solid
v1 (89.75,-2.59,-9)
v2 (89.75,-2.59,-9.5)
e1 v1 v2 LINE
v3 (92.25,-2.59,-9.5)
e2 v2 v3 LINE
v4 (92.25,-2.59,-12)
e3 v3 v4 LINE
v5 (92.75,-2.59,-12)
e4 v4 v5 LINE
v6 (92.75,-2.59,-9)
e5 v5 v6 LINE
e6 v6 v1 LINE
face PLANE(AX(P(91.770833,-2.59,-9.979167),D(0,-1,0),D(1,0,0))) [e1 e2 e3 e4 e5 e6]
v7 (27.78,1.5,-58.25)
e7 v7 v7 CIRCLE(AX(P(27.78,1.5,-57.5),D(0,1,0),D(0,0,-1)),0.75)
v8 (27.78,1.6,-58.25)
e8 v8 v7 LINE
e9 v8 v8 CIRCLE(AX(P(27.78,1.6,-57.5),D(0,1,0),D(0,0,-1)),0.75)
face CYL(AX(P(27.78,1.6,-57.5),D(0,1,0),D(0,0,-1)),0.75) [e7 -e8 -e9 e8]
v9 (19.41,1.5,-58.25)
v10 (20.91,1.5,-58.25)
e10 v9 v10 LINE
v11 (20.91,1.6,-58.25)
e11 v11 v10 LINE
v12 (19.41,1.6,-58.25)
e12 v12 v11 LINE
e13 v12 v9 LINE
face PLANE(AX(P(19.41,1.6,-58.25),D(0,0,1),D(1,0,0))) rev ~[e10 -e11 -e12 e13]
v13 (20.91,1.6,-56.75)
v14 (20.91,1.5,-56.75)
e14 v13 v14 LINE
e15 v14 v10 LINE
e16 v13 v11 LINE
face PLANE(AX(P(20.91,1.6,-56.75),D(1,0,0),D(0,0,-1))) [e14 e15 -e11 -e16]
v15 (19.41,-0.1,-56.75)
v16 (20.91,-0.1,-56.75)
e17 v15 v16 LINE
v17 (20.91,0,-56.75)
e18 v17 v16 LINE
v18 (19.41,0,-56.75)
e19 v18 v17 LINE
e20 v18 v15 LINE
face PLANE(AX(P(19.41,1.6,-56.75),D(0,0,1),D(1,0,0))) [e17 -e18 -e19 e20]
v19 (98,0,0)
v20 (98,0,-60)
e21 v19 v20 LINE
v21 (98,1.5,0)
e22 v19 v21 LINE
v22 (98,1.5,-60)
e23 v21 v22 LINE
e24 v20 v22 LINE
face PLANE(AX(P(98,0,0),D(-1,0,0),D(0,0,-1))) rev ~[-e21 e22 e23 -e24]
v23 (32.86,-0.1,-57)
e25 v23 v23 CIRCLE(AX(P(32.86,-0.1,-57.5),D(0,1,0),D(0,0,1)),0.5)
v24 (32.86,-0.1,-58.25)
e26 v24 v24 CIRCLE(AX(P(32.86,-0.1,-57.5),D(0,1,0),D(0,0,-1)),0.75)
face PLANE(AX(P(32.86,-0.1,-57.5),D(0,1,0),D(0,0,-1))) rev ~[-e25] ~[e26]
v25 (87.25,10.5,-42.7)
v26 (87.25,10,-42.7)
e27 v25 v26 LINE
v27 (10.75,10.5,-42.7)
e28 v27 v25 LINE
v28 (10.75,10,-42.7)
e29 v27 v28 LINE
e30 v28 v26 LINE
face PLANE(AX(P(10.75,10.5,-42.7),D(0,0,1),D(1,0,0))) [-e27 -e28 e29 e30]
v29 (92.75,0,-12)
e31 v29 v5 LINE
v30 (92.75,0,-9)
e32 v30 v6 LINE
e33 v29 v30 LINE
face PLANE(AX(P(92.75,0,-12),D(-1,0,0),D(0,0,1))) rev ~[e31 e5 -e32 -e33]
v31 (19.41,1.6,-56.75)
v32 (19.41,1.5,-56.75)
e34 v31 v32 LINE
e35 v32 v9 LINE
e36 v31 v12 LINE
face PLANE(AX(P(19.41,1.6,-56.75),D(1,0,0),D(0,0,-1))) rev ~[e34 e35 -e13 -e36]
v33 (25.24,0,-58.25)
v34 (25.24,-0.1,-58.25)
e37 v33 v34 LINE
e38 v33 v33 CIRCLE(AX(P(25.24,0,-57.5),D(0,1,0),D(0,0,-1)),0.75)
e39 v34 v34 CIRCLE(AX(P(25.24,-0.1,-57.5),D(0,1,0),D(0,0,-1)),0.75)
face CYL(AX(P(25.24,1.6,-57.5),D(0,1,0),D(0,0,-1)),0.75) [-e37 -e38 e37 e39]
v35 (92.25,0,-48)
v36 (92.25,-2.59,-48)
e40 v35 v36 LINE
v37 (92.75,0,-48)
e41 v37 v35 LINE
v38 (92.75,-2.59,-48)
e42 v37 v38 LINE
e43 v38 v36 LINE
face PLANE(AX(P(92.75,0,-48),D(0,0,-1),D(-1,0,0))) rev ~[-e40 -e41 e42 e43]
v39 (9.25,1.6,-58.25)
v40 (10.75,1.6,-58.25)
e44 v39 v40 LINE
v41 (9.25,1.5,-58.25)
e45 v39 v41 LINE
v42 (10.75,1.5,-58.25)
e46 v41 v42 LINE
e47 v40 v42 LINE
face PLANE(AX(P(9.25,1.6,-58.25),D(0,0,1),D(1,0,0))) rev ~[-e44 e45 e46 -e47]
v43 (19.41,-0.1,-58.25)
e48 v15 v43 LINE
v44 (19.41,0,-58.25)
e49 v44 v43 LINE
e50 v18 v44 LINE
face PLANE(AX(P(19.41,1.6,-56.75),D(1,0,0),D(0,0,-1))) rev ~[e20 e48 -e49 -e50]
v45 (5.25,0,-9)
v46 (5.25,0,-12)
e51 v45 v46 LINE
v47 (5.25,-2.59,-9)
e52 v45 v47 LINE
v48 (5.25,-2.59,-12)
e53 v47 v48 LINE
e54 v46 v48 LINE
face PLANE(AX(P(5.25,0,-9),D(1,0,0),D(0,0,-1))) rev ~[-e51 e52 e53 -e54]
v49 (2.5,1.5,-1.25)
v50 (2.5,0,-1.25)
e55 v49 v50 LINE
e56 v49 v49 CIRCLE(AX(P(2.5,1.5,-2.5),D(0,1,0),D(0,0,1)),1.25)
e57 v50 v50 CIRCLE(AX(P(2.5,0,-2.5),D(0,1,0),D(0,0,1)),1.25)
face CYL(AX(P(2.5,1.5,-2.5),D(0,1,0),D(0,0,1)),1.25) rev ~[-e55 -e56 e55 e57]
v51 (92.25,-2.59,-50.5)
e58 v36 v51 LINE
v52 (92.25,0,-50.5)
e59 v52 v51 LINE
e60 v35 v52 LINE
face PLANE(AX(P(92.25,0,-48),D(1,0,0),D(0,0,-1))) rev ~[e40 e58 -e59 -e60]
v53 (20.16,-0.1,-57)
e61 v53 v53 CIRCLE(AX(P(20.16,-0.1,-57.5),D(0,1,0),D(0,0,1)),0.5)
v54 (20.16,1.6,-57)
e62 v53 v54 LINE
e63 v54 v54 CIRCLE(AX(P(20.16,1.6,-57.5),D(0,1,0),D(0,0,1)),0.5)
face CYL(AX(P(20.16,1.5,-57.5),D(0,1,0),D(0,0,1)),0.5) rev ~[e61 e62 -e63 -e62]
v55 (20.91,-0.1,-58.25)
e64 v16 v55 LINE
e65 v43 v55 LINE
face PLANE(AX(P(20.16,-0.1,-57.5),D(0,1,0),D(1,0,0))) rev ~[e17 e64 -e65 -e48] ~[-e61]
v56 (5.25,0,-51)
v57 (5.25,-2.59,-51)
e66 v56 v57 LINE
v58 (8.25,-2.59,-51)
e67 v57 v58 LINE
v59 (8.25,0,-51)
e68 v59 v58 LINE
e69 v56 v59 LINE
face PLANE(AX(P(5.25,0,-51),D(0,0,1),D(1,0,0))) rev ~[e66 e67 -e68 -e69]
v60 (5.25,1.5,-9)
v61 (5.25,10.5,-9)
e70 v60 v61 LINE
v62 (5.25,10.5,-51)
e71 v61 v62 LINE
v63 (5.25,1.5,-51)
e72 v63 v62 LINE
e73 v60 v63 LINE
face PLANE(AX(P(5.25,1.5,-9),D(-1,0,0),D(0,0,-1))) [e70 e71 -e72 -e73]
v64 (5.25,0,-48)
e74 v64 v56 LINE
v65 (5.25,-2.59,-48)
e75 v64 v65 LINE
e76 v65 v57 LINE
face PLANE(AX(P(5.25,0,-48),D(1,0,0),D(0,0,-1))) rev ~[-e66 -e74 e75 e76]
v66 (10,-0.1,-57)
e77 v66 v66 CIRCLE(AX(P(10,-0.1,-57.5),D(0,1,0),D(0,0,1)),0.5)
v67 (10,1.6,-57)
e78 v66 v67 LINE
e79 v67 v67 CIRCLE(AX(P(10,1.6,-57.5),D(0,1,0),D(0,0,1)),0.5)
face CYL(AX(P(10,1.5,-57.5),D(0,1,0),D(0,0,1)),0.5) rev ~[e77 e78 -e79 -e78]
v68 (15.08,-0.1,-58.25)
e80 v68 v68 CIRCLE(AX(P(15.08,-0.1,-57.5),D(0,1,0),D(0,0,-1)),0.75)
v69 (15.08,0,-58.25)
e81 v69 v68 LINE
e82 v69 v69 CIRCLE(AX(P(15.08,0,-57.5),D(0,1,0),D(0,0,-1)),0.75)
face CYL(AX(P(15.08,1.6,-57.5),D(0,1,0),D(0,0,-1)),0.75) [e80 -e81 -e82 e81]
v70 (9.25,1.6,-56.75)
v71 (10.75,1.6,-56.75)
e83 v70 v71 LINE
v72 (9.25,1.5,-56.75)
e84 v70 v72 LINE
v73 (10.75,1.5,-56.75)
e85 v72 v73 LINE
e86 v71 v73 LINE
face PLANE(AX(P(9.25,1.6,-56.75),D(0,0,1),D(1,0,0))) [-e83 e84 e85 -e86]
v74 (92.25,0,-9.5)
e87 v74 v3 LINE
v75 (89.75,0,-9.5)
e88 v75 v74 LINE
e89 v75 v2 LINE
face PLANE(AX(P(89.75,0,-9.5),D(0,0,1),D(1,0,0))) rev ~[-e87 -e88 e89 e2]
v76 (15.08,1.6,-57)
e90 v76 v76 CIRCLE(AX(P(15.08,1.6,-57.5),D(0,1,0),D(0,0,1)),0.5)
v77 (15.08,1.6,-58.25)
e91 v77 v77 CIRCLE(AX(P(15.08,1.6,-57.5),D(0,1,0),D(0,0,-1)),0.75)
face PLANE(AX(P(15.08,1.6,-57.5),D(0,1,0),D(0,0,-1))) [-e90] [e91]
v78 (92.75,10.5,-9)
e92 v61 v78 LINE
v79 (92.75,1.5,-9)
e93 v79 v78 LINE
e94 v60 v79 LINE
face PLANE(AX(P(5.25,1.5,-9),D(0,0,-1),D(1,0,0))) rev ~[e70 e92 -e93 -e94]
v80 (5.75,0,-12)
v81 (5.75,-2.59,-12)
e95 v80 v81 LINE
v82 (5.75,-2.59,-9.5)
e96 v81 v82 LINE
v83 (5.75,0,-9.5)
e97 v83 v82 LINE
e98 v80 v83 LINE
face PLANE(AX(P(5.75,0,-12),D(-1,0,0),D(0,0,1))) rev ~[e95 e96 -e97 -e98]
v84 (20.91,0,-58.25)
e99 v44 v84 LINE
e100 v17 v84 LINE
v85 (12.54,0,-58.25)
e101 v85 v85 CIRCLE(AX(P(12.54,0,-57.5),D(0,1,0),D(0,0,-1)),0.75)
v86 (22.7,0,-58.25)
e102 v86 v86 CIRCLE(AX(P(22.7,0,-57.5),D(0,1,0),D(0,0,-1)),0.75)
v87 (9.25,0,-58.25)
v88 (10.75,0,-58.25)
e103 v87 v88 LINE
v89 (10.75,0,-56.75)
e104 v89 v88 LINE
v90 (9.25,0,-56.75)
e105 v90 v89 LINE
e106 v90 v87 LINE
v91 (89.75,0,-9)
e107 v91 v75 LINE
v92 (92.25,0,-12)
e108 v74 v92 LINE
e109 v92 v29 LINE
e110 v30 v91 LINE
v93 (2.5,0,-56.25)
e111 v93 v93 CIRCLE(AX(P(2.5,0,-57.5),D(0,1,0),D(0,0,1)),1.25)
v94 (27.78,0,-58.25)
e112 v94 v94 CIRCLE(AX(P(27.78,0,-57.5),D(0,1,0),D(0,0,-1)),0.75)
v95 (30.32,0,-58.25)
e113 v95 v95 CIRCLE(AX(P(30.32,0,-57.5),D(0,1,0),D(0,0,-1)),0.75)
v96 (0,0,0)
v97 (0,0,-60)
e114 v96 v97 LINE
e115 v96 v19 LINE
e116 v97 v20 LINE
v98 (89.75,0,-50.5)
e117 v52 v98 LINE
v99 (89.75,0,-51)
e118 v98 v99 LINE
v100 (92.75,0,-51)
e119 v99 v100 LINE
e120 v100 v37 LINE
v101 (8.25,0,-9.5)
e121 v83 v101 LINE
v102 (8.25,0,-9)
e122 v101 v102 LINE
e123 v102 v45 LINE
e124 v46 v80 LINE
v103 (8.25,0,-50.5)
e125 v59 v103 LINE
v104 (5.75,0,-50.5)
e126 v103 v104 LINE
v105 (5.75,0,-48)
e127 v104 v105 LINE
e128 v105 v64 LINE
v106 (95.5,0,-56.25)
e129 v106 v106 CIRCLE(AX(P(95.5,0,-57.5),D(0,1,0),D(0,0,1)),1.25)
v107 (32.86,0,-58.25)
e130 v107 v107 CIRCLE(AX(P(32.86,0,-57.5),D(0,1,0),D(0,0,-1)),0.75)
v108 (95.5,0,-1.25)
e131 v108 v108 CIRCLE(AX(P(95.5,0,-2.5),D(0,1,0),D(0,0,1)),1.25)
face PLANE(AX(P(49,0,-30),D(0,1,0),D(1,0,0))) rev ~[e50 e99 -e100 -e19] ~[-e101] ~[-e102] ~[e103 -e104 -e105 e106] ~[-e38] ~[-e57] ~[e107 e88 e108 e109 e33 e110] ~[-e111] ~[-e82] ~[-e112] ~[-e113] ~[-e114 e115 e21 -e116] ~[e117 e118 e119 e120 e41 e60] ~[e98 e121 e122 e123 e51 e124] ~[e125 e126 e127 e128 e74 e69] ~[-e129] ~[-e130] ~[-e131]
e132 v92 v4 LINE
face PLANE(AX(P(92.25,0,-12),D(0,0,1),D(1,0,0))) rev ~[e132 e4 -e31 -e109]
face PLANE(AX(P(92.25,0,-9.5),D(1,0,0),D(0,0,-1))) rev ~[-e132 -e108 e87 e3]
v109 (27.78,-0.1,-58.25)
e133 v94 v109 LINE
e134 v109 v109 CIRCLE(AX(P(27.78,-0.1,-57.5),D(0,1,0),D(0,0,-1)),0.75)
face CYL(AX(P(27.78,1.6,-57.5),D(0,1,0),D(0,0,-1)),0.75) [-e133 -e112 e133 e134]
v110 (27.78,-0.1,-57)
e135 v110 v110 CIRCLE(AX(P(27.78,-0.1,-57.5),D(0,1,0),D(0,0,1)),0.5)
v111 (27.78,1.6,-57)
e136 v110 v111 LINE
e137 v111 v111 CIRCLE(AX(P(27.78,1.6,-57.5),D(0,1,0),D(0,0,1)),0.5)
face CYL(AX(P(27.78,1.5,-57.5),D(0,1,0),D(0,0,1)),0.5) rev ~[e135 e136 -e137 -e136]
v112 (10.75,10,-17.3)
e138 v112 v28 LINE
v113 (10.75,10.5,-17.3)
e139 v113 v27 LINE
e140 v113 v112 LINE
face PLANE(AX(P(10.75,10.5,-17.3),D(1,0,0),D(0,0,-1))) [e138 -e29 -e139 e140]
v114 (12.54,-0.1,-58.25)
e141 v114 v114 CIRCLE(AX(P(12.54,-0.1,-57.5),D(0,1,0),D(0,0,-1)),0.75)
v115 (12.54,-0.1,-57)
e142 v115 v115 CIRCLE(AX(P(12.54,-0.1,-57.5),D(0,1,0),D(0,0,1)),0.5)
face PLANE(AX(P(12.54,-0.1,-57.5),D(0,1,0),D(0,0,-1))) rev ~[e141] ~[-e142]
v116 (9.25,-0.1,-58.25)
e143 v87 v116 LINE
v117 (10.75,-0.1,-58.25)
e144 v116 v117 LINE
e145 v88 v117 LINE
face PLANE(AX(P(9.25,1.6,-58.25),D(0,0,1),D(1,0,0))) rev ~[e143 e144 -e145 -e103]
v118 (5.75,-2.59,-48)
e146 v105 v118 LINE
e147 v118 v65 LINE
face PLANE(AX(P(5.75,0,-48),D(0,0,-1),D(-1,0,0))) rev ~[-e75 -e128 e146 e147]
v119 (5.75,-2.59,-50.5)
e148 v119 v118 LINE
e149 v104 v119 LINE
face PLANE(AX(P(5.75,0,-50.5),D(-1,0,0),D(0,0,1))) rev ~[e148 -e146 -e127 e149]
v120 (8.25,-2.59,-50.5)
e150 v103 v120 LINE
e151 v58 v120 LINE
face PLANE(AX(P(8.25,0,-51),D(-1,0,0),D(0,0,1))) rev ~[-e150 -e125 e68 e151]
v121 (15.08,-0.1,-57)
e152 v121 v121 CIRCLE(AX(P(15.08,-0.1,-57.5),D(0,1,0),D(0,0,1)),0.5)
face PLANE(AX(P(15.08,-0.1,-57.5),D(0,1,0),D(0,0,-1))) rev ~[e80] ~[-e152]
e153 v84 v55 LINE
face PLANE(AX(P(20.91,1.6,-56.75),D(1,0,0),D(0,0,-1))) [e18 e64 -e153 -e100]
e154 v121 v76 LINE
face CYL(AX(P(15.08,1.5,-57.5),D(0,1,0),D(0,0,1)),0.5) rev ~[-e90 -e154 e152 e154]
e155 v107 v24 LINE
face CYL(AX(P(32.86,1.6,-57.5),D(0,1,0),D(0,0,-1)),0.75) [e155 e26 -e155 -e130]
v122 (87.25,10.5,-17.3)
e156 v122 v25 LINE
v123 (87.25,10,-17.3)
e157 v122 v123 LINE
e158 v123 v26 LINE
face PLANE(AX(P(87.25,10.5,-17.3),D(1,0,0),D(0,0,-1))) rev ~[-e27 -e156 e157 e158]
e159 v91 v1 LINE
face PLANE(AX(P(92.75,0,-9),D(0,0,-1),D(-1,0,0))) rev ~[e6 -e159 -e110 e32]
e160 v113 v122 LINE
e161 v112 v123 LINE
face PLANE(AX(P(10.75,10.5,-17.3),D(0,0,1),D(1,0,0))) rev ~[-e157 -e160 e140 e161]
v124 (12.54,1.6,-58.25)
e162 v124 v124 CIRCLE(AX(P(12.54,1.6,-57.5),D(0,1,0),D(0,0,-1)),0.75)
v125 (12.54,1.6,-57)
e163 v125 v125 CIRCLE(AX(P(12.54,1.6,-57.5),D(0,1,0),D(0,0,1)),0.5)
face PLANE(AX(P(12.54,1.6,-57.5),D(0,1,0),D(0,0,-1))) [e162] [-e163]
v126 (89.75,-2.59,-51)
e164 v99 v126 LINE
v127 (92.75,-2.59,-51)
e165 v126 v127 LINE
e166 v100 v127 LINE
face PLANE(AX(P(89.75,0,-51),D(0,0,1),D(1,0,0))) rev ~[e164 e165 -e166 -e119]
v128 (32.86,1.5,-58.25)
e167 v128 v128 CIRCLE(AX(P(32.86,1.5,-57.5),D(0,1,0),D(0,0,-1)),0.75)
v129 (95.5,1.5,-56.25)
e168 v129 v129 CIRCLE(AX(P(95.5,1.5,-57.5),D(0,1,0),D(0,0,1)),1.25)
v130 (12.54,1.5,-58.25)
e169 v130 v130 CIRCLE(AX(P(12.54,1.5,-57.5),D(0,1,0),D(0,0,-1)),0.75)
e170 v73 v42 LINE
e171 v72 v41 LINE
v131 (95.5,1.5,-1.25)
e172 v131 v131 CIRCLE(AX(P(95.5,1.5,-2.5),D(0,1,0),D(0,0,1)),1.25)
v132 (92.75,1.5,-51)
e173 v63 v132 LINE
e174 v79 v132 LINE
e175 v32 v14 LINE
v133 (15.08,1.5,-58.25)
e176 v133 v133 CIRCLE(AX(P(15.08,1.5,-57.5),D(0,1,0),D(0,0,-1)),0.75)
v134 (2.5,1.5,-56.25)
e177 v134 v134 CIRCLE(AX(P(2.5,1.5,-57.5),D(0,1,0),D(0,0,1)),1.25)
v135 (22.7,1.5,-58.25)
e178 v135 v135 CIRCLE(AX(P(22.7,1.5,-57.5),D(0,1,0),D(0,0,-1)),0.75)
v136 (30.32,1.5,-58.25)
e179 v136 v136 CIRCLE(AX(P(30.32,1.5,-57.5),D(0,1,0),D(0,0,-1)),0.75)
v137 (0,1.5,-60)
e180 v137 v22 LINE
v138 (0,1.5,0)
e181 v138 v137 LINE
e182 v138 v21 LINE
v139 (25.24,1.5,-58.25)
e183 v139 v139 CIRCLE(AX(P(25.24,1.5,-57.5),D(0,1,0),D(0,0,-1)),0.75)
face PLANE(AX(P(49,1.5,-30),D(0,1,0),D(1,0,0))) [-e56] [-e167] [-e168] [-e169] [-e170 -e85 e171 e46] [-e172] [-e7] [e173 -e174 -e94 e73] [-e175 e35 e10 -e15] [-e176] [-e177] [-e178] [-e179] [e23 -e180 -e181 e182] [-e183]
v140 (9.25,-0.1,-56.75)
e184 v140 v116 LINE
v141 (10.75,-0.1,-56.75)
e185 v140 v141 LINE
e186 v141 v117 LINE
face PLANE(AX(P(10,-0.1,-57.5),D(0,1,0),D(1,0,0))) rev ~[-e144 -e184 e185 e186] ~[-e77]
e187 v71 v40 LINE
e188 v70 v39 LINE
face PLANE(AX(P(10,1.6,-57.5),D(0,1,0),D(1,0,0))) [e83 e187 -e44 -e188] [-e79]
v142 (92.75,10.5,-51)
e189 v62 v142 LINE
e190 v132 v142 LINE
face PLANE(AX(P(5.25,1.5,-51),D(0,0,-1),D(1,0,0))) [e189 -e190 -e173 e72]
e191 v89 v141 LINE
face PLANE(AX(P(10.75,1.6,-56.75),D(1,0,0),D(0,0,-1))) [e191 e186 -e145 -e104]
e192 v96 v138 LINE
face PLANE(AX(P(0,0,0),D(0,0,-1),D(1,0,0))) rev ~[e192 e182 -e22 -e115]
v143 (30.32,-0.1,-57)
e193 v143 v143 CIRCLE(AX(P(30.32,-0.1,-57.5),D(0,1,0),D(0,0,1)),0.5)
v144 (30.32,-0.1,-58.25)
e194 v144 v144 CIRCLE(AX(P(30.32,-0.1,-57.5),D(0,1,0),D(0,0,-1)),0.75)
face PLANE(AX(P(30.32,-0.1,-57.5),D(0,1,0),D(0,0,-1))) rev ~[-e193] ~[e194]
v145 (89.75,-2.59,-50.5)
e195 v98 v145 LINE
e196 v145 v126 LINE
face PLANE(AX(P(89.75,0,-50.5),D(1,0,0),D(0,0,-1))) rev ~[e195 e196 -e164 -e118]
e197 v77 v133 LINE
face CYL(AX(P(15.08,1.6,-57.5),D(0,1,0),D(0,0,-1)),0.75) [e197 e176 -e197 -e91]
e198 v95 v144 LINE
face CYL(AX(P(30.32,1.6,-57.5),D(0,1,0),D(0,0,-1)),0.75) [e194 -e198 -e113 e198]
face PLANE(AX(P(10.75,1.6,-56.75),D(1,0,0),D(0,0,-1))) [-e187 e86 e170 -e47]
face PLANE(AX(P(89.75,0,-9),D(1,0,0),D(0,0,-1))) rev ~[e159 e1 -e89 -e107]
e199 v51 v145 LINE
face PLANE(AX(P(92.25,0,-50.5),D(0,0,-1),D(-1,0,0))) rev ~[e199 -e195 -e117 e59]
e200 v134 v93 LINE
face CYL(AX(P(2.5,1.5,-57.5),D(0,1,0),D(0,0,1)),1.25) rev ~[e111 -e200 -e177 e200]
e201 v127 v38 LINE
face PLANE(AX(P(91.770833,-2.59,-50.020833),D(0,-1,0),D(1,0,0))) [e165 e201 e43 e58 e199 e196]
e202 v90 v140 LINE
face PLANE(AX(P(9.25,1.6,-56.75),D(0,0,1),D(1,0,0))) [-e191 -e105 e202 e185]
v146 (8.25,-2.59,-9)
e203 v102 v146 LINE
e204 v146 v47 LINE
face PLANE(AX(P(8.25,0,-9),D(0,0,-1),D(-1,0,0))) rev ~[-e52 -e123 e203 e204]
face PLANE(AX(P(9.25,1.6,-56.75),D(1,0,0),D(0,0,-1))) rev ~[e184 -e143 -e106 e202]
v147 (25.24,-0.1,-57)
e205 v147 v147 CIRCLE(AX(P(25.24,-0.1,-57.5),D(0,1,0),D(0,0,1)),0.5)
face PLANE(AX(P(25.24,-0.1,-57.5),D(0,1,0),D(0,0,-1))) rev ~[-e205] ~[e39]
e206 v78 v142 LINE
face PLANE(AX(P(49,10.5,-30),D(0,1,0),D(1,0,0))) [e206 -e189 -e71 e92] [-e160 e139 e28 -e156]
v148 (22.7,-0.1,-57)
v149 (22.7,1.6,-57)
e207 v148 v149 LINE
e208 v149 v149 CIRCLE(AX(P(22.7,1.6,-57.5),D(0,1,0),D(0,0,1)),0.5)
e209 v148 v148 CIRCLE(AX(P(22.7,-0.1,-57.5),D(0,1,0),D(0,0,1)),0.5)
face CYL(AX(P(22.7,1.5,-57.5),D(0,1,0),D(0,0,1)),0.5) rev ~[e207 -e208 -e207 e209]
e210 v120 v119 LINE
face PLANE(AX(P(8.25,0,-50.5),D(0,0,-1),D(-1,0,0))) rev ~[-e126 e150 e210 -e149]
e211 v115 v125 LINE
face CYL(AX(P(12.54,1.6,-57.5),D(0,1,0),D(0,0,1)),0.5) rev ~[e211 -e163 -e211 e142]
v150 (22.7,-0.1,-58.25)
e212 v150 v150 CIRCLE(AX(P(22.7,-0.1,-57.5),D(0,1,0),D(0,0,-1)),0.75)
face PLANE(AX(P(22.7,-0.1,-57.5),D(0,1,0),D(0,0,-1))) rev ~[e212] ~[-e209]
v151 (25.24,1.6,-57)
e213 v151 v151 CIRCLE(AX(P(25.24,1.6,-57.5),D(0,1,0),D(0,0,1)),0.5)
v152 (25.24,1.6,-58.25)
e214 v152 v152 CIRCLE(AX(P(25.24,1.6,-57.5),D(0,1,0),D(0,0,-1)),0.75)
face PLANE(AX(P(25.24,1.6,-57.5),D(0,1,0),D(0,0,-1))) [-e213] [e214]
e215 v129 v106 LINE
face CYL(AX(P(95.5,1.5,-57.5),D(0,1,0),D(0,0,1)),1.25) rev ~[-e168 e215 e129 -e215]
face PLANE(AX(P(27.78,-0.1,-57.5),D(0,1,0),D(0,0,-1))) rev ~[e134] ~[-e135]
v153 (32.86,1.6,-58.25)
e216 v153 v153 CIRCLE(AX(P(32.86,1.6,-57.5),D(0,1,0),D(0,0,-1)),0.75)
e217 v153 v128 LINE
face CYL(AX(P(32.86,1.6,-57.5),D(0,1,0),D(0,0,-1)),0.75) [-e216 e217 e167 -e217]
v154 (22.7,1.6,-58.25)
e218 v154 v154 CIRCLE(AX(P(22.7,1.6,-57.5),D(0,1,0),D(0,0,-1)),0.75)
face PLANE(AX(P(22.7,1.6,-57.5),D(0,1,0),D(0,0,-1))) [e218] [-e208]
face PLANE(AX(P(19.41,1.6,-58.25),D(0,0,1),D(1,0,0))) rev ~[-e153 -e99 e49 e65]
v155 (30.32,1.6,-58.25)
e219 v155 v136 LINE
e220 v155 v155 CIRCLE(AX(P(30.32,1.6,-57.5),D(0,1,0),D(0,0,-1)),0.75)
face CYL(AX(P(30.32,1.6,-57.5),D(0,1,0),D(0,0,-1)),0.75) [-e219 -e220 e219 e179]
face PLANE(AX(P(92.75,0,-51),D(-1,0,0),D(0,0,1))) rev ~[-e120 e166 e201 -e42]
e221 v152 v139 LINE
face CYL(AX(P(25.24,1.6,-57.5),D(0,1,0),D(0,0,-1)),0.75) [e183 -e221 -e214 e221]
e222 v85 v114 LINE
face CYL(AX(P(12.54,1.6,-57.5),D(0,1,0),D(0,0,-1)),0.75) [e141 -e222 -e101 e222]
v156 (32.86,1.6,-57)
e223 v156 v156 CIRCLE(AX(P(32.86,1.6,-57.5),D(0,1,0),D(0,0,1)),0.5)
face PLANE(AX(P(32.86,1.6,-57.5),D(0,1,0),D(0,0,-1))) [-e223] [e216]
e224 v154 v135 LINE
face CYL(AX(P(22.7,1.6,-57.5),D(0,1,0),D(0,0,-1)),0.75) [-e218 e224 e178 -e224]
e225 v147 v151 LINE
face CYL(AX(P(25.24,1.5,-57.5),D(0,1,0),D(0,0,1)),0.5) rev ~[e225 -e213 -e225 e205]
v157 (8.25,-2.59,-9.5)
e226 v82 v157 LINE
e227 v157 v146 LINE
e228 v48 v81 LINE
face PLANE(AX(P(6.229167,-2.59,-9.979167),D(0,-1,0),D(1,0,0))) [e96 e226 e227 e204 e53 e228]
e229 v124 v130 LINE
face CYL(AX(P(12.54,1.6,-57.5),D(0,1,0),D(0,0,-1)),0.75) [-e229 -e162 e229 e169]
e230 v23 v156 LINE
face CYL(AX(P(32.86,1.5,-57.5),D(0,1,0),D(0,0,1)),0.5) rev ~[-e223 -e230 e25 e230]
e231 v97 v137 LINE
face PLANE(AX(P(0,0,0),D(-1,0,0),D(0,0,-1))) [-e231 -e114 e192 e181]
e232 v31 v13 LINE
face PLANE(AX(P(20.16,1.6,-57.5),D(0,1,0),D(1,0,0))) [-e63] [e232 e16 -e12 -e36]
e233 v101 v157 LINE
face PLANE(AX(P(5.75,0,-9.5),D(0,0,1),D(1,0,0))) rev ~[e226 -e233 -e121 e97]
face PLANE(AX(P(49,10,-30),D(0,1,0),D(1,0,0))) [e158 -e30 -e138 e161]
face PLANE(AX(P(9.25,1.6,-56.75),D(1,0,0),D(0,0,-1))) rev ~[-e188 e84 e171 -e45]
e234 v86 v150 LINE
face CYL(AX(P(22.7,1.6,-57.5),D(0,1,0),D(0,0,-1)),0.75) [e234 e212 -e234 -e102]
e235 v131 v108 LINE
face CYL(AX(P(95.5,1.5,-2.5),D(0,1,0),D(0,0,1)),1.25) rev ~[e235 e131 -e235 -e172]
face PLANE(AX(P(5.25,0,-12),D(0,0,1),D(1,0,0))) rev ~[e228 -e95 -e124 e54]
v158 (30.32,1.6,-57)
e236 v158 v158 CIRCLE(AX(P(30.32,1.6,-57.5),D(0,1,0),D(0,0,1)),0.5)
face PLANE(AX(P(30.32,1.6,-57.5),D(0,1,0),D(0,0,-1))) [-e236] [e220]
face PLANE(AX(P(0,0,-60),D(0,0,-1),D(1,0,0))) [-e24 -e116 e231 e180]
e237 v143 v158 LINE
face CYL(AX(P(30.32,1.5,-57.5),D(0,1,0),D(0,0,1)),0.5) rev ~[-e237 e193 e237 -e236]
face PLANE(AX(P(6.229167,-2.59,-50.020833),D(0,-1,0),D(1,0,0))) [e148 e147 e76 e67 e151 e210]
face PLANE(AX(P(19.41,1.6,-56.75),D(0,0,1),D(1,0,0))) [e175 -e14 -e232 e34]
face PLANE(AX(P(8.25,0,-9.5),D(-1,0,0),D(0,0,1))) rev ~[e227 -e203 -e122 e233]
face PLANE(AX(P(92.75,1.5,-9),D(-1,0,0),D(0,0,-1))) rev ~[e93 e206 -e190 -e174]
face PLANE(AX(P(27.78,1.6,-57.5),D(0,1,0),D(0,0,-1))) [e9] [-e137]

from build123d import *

# Parameters (mm, degrees)
SKETCH1_W           = 98
SKETCH1_H           = 60
BOSS_EXTRUDE1_DEPTH = 1.5
SKETCH2_W           = 87.5
SKETCH2_H           = 42
BOSS_EXTRUDE2_DEPTH = 9
SKETCH3_W           = 76.5
SKETCH3_H           = 25.4
CUT_EXTRUDE1_DEPTH  = 0.5
SKETCH4_R           = 1.25
CUT_EXTRUDE2_DEPTH  = 116.260574352
SKETCH5_R           = 0.5
CUT_EXTRUDE3_DEPTH  = 10
BOSS_EXTRUDE3_START = 0.1
SKETCH6_R           = 0.75
SKETCH6_R_2         = 0.5
SKETCH6_W           = 1.5
SKETCH6_H           = 1.5
BOSS_EXTRUDE3_DEPTH = 0.1
SKETCH7_R           = 0.75
SKETCH7_R_2         = 0.5
SKETCH7_W           = 1.5
SKETCH7_H           = 1.5
BOSS_EXTRUDE4_DEPTH = 1.7
BOSS_EXTRUDE5_DEPTH = 2.59


with BuildPart() as part:
    # Sketch1 → Boss-Extrude1 (new body)
    with BuildSketch(Plane(origin=(0, 0, 0), x_dir=(1, 0, 0), z_dir=(0, 1, 0))):
        with Locations((49, 30)):
            Rectangle(SKETCH1_W, SKETCH1_H)
    extrude(amount=BOSS_EXTRUDE1_DEPTH)

    # Sketch2 → Boss-Extrude2 (add)
    with BuildSketch(Plane(origin=(0, 1.5, 0), x_dir=(1, 0, 0), z_dir=(0, 1, 0))):
        with Locations((49, 30)):
            Rectangle(SKETCH2_W, SKETCH2_H)
    extrude(amount=BOSS_EXTRUDE2_DEPTH)

    # Sketch3 → Cut-Extrude1 (cut)
    with BuildSketch(Plane(origin=(0, 10.5, 0), x_dir=(1, 0, 0), z_dir=(0, 1, 0))):
        with Locations((49, 30)):
            Rectangle(SKETCH3_W, SKETCH3_H)
    extrude(amount=-CUT_EXTRUDE1_DEPTH, mode=Mode.SUBTRACT)

    # Sketch4 → Cut-Extrude2 (cut, through all)
    with BuildSketch(Plane(origin=(0, 1.5, 0), x_dir=(1, 0, 0), z_dir=(0, 1, 0))):
        with Locations(Location((2.5, 57.5, 0), (0, 0, 270))):
            Circle(SKETCH4_R)
        with Locations(Location((95.5, 57.5, 0), (0, 0, 270))):
            Circle(SKETCH4_R)
        with Locations(Location((95.5, 2.5, 0), (0, 0, 270))):
            Circle(SKETCH4_R)
        with Locations(Location((2.5, 2.5, 0), (0, 0, 270))):
            Circle(SKETCH4_R)
    extrude(amount=-CUT_EXTRUDE2_DEPTH, mode=Mode.SUBTRACT)

    # Sketch5 → Cut-Extrude3 (cut)
    with BuildSketch(Plane(origin=(0, 1.5, 0), x_dir=(1, 0, 0), z_dir=(0, 1, 0))):
        with Locations(Location((10, 57.5, 0), (0, 0, 270))):
            Circle(SKETCH5_R)
        with Locations(Location((12.54, 57.5, 0), (0, 0, 270))):
            Circle(SKETCH5_R)
        with Locations(Location((15.08, 57.5, 0), (0, 0, 270))):
            Circle(SKETCH5_R)
        with Locations(Location((20.16, 57.5, 0), (0, 0, 270))):
            Circle(SKETCH5_R)
        with Locations(Location((22.7, 57.5, 0), (0, 0, 270))):
            Circle(SKETCH5_R)
        with Locations(Location((25.24, 57.5, 0), (0, 0, 270))):
            Circle(SKETCH5_R)
        with Locations(Location((27.78, 57.5, 0), (0, 0, 270))):
            Circle(SKETCH5_R)
        with Locations(Location((30.32, 57.5, 0), (0, 0, 270))):
            Circle(SKETCH5_R)
        with Locations(Location((32.86, 57.5, 0), (0, 0, 270))):
            Circle(SKETCH5_R)
    extrude(amount=-CUT_EXTRUDE3_DEPTH, mode=Mode.SUBTRACT)

    # Sketch6 → Boss-Extrude3 (add)
    # profile 1 of 9: a face of its own
    with BuildSketch(Plane(origin=(0, 1.5, 0), x_dir=(1, 0, 0), z_dir=(0, 1, 0)).offset(BOSS_EXTRUDE3_START)):
        with Locations(Location((12.54, 57.5, 0), (0, 0, 90))):
            Circle(SKETCH6_R)
        with Locations(Location((12.54, 57.5, 0), (0, 0, 270))):
            Circle(SKETCH6_R_2, mode=Mode.SUBTRACT)
    # profile 2 of 9: a face of its own
    with BuildSketch(Plane(origin=(0, 1.5, 0), x_dir=(1, 0, 0), z_dir=(0, 1, 0)).offset(BOSS_EXTRUDE3_START)):
        with Locations(Location((15.08, 57.5, 0), (0, 0, 90))):
            Circle(SKETCH6_R)
        with Locations(Location((15.08, 57.5, 0), (0, 0, 270))):
            Circle(SKETCH6_R_2, mode=Mode.SUBTRACT)
    # profile 3 of 9: a face of its own
    with BuildSketch(Plane(origin=(0, 1.5, 0), x_dir=(1, 0, 0), z_dir=(0, 1, 0)).offset(BOSS_EXTRUDE3_START)):
        with Locations(Location((22.7, 57.5, 0), (0, 0, 90))):
            Circle(SKETCH6_R)
        with Locations(Location((22.7, 57.5, 0), (0, 0, 270))):
            Circle(SKETCH6_R_2, mode=Mode.SUBTRACT)
    # profile 4 of 9: a face of its own
    with BuildSketch(Plane(origin=(0, 1.5, 0), x_dir=(1, 0, 0), z_dir=(0, 1, 0)).offset(BOSS_EXTRUDE3_START)):
        with Locations(Location((25.24, 57.5, 0), (0, 0, 90))):
            Circle(SKETCH6_R)
        with Locations(Location((25.24, 57.5, 0), (0, 0, 270))):
            Circle(SKETCH6_R_2, mode=Mode.SUBTRACT)
    # profile 5 of 9: a face of its own
    with BuildSketch(Plane(origin=(0, 1.5, 0), x_dir=(1, 0, 0), z_dir=(0, 1, 0)).offset(BOSS_EXTRUDE3_START)):
        with Locations(Location((27.78, 57.5, 0), (0, 0, 90))):
            Circle(SKETCH6_R)
        with Locations(Location((27.78, 57.5, 0), (0, 0, 270))):
            Circle(SKETCH6_R_2, mode=Mode.SUBTRACT)
    # profile 6 of 9: a face of its own
    with BuildSketch(Plane(origin=(0, 1.5, 0), x_dir=(1, 0, 0), z_dir=(0, 1, 0)).offset(BOSS_EXTRUDE3_START)):
        with Locations(Location((30.32, 57.5, 0), (0, 0, 90))):
            Circle(SKETCH6_R)
        with Locations(Location((30.32, 57.5, 0), (0, 0, 270))):
            Circle(SKETCH6_R_2, mode=Mode.SUBTRACT)
    # profile 7 of 9: a face of its own
    with BuildSketch(Plane(origin=(0, 1.5, 0), x_dir=(1, 0, 0), z_dir=(0, 1, 0)).offset(BOSS_EXTRUDE3_START)):
        with Locations(Location((32.86, 57.5, 0), (0, 0, 90))):
            Circle(SKETCH6_R)
        with Locations(Location((32.86, 57.5, 0), (0, 0, 270))):
            Circle(SKETCH6_R_2, mode=Mode.SUBTRACT)
    # profile 8 of 9: a face of its own
    with BuildSketch(Plane(origin=(0, 1.5, 0), x_dir=(1, 0, 0), z_dir=(0, 1, 0)).offset(BOSS_EXTRUDE3_START)):
        with Locations((20.16, 57.5)):
            Rectangle(SKETCH6_W, SKETCH6_H)
        with Locations(Location((20.16, 57.5, 0), (0, 0, 270))):
            Circle(SKETCH6_R_2, mode=Mode.SUBTRACT)
    # profile 9 of 9: a face of its own
    with BuildSketch(Plane(origin=(0, 1.5, 0), x_dir=(1, 0, 0), z_dir=(0, 1, 0)).offset(BOSS_EXTRUDE3_START)):
        with Locations((10, 57.5)):
            Rectangle(SKETCH6_W, SKETCH6_H)
        with Locations(Location((10, 57.5, 0), (0, 0, 270))):
            Circle(SKETCH6_R_2, mode=Mode.SUBTRACT)
    extrude(amount=-BOSS_EXTRUDE3_DEPTH)

    # Sketch7 → Boss-Extrude4 (add)
    # profile 1 of 9: a face of its own
    with BuildSketch(Plane(origin=(0, 1.6, 0), x_dir=(1, 0, 0), z_dir=(0, 1, 0))):
        with Locations(Location((12.54, 57.5, 0), (0, 0, 90))):
            Circle(SKETCH7_R)
        with Locations(Location((12.54, 57.5, 0), (0, 0, 270))):
            Circle(SKETCH7_R_2, mode=Mode.SUBTRACT)
    # profile 2 of 9: a face of its own
    with BuildSketch(Plane(origin=(0, 1.6, 0), x_dir=(1, 0, 0), z_dir=(0, 1, 0))):
        with Locations(Location((15.08, 57.5, 0), (0, 0, 90))):
            Circle(SKETCH7_R)
        with Locations(Location((15.08, 57.5, 0), (0, 0, 270))):
            Circle(SKETCH7_R_2, mode=Mode.SUBTRACT)
    # profile 3 of 9: a face of its own
    with BuildSketch(Plane(origin=(0, 1.6, 0), x_dir=(1, 0, 0), z_dir=(0, 1, 0))):
        with Locations(Location((22.7, 57.5, 0), (0, 0, 90))):
            Circle(SKETCH7_R)
        with Locations(Location((22.7, 57.5, 0), (0, 0, 270))):
            Circle(SKETCH7_R_2, mode=Mode.SUBTRACT)
    # profile 4 of 9: a face of its own
    with BuildSketch(Plane(origin=(0, 1.6, 0), x_dir=(1, 0, 0), z_dir=(0, 1, 0))):
        with Locations(Location((25.24, 57.5, 0), (0, 0, 90))):
            Circle(SKETCH7_R)
        with Locations(Location((25.24, 57.5, 0), (0, 0, 270))):
            Circle(SKETCH7_R_2, mode=Mode.SUBTRACT)
    # profile 5 of 9: a face of its own
    with BuildSketch(Plane(origin=(0, 1.6, 0), x_dir=(1, 0, 0), z_dir=(0, 1, 0))):
        with Locations(Location((27.78, 57.5, 0), (0, 0, 90))):
            Circle(SKETCH7_R)
        with Locations(Location((27.78, 57.5, 0), (0, 0, 270))):
            Circle(SKETCH7_R_2, mode=Mode.SUBTRACT)
    # profile 6 of 9: a face of its own
    with BuildSketch(Plane(origin=(0, 1.6, 0), x_dir=(1, 0, 0), z_dir=(0, 1, 0))):
        with Locations(Location((30.32, 57.5, 0), (0, 0, 90))):
            Circle(SKETCH7_R)
        with Locations(Location((30.32, 57.5, 0), (0, 0, 270))):
            Circle(SKETCH7_R_2, mode=Mode.SUBTRACT)
    # profile 7 of 9: a face of its own
    with BuildSketch(Plane(origin=(0, 1.6, 0), x_dir=(1, 0, 0), z_dir=(0, 1, 0))):
        with Locations(Location((32.86, 57.5, 0), (0, 0, 90))):
            Circle(SKETCH7_R)
        with Locations(Location((32.86, 57.5, 0), (0, 0, 270))):
            Circle(SKETCH7_R_2, mode=Mode.SUBTRACT)
    # profile 8 of 9: a face of its own
    with BuildSketch(Plane(origin=(0, 1.6, 0), x_dir=(1, 0, 0), z_dir=(0, 1, 0))):
        with Locations((10, 57.5)):
            Rectangle(SKETCH7_W, SKETCH7_H)
        with Locations(Location((10, 57.5, 0), (0, 0, 270))):
            Circle(SKETCH7_R_2, mode=Mode.SUBTRACT)
    # profile 9 of 9: a face of its own
    with BuildSketch(Plane(origin=(0, 1.6, 0), x_dir=(1, 0, 0), z_dir=(0, 1, 0))):
        with Locations((20.16, 57.5)):
            Rectangle(SKETCH7_W, SKETCH7_H)
        with Locations(Location((20.16, 57.5, 0), (0, 0, 270))):
            Circle(SKETCH7_R_2, mode=Mode.SUBTRACT)
    extrude(amount=-BOSS_EXTRUDE4_DEPTH)

    # Sketch8 → Boss-Extrude5 (add)
    with BuildSketch(Plane.XZ):
        Polygon((5.25, -9), (5.25, -12), (5.75, -12), (5.75, -9.5), (8.25, -9.5), (8.25, -9), align=None)
        Polygon((92.25, -12), (92.75, -12), (92.75, -9), (89.75, -9), (89.75, -9.5), (92.25, -9.5), align=None)
        Polygon((92.75, -51), (92.75, -48), (92.25, -48), (92.25, -50.5), (89.75, -50.5), (89.75, -51), align=None)
        Polygon((5.75, -48), (5.25, -48), (5.25, -51), (8.25, -51), (8.25, -50.5), (5.75, -50.5), align=None)
    extrude(amount=BOSS_EXTRUDE5_DEPTH)


solid = part.part
